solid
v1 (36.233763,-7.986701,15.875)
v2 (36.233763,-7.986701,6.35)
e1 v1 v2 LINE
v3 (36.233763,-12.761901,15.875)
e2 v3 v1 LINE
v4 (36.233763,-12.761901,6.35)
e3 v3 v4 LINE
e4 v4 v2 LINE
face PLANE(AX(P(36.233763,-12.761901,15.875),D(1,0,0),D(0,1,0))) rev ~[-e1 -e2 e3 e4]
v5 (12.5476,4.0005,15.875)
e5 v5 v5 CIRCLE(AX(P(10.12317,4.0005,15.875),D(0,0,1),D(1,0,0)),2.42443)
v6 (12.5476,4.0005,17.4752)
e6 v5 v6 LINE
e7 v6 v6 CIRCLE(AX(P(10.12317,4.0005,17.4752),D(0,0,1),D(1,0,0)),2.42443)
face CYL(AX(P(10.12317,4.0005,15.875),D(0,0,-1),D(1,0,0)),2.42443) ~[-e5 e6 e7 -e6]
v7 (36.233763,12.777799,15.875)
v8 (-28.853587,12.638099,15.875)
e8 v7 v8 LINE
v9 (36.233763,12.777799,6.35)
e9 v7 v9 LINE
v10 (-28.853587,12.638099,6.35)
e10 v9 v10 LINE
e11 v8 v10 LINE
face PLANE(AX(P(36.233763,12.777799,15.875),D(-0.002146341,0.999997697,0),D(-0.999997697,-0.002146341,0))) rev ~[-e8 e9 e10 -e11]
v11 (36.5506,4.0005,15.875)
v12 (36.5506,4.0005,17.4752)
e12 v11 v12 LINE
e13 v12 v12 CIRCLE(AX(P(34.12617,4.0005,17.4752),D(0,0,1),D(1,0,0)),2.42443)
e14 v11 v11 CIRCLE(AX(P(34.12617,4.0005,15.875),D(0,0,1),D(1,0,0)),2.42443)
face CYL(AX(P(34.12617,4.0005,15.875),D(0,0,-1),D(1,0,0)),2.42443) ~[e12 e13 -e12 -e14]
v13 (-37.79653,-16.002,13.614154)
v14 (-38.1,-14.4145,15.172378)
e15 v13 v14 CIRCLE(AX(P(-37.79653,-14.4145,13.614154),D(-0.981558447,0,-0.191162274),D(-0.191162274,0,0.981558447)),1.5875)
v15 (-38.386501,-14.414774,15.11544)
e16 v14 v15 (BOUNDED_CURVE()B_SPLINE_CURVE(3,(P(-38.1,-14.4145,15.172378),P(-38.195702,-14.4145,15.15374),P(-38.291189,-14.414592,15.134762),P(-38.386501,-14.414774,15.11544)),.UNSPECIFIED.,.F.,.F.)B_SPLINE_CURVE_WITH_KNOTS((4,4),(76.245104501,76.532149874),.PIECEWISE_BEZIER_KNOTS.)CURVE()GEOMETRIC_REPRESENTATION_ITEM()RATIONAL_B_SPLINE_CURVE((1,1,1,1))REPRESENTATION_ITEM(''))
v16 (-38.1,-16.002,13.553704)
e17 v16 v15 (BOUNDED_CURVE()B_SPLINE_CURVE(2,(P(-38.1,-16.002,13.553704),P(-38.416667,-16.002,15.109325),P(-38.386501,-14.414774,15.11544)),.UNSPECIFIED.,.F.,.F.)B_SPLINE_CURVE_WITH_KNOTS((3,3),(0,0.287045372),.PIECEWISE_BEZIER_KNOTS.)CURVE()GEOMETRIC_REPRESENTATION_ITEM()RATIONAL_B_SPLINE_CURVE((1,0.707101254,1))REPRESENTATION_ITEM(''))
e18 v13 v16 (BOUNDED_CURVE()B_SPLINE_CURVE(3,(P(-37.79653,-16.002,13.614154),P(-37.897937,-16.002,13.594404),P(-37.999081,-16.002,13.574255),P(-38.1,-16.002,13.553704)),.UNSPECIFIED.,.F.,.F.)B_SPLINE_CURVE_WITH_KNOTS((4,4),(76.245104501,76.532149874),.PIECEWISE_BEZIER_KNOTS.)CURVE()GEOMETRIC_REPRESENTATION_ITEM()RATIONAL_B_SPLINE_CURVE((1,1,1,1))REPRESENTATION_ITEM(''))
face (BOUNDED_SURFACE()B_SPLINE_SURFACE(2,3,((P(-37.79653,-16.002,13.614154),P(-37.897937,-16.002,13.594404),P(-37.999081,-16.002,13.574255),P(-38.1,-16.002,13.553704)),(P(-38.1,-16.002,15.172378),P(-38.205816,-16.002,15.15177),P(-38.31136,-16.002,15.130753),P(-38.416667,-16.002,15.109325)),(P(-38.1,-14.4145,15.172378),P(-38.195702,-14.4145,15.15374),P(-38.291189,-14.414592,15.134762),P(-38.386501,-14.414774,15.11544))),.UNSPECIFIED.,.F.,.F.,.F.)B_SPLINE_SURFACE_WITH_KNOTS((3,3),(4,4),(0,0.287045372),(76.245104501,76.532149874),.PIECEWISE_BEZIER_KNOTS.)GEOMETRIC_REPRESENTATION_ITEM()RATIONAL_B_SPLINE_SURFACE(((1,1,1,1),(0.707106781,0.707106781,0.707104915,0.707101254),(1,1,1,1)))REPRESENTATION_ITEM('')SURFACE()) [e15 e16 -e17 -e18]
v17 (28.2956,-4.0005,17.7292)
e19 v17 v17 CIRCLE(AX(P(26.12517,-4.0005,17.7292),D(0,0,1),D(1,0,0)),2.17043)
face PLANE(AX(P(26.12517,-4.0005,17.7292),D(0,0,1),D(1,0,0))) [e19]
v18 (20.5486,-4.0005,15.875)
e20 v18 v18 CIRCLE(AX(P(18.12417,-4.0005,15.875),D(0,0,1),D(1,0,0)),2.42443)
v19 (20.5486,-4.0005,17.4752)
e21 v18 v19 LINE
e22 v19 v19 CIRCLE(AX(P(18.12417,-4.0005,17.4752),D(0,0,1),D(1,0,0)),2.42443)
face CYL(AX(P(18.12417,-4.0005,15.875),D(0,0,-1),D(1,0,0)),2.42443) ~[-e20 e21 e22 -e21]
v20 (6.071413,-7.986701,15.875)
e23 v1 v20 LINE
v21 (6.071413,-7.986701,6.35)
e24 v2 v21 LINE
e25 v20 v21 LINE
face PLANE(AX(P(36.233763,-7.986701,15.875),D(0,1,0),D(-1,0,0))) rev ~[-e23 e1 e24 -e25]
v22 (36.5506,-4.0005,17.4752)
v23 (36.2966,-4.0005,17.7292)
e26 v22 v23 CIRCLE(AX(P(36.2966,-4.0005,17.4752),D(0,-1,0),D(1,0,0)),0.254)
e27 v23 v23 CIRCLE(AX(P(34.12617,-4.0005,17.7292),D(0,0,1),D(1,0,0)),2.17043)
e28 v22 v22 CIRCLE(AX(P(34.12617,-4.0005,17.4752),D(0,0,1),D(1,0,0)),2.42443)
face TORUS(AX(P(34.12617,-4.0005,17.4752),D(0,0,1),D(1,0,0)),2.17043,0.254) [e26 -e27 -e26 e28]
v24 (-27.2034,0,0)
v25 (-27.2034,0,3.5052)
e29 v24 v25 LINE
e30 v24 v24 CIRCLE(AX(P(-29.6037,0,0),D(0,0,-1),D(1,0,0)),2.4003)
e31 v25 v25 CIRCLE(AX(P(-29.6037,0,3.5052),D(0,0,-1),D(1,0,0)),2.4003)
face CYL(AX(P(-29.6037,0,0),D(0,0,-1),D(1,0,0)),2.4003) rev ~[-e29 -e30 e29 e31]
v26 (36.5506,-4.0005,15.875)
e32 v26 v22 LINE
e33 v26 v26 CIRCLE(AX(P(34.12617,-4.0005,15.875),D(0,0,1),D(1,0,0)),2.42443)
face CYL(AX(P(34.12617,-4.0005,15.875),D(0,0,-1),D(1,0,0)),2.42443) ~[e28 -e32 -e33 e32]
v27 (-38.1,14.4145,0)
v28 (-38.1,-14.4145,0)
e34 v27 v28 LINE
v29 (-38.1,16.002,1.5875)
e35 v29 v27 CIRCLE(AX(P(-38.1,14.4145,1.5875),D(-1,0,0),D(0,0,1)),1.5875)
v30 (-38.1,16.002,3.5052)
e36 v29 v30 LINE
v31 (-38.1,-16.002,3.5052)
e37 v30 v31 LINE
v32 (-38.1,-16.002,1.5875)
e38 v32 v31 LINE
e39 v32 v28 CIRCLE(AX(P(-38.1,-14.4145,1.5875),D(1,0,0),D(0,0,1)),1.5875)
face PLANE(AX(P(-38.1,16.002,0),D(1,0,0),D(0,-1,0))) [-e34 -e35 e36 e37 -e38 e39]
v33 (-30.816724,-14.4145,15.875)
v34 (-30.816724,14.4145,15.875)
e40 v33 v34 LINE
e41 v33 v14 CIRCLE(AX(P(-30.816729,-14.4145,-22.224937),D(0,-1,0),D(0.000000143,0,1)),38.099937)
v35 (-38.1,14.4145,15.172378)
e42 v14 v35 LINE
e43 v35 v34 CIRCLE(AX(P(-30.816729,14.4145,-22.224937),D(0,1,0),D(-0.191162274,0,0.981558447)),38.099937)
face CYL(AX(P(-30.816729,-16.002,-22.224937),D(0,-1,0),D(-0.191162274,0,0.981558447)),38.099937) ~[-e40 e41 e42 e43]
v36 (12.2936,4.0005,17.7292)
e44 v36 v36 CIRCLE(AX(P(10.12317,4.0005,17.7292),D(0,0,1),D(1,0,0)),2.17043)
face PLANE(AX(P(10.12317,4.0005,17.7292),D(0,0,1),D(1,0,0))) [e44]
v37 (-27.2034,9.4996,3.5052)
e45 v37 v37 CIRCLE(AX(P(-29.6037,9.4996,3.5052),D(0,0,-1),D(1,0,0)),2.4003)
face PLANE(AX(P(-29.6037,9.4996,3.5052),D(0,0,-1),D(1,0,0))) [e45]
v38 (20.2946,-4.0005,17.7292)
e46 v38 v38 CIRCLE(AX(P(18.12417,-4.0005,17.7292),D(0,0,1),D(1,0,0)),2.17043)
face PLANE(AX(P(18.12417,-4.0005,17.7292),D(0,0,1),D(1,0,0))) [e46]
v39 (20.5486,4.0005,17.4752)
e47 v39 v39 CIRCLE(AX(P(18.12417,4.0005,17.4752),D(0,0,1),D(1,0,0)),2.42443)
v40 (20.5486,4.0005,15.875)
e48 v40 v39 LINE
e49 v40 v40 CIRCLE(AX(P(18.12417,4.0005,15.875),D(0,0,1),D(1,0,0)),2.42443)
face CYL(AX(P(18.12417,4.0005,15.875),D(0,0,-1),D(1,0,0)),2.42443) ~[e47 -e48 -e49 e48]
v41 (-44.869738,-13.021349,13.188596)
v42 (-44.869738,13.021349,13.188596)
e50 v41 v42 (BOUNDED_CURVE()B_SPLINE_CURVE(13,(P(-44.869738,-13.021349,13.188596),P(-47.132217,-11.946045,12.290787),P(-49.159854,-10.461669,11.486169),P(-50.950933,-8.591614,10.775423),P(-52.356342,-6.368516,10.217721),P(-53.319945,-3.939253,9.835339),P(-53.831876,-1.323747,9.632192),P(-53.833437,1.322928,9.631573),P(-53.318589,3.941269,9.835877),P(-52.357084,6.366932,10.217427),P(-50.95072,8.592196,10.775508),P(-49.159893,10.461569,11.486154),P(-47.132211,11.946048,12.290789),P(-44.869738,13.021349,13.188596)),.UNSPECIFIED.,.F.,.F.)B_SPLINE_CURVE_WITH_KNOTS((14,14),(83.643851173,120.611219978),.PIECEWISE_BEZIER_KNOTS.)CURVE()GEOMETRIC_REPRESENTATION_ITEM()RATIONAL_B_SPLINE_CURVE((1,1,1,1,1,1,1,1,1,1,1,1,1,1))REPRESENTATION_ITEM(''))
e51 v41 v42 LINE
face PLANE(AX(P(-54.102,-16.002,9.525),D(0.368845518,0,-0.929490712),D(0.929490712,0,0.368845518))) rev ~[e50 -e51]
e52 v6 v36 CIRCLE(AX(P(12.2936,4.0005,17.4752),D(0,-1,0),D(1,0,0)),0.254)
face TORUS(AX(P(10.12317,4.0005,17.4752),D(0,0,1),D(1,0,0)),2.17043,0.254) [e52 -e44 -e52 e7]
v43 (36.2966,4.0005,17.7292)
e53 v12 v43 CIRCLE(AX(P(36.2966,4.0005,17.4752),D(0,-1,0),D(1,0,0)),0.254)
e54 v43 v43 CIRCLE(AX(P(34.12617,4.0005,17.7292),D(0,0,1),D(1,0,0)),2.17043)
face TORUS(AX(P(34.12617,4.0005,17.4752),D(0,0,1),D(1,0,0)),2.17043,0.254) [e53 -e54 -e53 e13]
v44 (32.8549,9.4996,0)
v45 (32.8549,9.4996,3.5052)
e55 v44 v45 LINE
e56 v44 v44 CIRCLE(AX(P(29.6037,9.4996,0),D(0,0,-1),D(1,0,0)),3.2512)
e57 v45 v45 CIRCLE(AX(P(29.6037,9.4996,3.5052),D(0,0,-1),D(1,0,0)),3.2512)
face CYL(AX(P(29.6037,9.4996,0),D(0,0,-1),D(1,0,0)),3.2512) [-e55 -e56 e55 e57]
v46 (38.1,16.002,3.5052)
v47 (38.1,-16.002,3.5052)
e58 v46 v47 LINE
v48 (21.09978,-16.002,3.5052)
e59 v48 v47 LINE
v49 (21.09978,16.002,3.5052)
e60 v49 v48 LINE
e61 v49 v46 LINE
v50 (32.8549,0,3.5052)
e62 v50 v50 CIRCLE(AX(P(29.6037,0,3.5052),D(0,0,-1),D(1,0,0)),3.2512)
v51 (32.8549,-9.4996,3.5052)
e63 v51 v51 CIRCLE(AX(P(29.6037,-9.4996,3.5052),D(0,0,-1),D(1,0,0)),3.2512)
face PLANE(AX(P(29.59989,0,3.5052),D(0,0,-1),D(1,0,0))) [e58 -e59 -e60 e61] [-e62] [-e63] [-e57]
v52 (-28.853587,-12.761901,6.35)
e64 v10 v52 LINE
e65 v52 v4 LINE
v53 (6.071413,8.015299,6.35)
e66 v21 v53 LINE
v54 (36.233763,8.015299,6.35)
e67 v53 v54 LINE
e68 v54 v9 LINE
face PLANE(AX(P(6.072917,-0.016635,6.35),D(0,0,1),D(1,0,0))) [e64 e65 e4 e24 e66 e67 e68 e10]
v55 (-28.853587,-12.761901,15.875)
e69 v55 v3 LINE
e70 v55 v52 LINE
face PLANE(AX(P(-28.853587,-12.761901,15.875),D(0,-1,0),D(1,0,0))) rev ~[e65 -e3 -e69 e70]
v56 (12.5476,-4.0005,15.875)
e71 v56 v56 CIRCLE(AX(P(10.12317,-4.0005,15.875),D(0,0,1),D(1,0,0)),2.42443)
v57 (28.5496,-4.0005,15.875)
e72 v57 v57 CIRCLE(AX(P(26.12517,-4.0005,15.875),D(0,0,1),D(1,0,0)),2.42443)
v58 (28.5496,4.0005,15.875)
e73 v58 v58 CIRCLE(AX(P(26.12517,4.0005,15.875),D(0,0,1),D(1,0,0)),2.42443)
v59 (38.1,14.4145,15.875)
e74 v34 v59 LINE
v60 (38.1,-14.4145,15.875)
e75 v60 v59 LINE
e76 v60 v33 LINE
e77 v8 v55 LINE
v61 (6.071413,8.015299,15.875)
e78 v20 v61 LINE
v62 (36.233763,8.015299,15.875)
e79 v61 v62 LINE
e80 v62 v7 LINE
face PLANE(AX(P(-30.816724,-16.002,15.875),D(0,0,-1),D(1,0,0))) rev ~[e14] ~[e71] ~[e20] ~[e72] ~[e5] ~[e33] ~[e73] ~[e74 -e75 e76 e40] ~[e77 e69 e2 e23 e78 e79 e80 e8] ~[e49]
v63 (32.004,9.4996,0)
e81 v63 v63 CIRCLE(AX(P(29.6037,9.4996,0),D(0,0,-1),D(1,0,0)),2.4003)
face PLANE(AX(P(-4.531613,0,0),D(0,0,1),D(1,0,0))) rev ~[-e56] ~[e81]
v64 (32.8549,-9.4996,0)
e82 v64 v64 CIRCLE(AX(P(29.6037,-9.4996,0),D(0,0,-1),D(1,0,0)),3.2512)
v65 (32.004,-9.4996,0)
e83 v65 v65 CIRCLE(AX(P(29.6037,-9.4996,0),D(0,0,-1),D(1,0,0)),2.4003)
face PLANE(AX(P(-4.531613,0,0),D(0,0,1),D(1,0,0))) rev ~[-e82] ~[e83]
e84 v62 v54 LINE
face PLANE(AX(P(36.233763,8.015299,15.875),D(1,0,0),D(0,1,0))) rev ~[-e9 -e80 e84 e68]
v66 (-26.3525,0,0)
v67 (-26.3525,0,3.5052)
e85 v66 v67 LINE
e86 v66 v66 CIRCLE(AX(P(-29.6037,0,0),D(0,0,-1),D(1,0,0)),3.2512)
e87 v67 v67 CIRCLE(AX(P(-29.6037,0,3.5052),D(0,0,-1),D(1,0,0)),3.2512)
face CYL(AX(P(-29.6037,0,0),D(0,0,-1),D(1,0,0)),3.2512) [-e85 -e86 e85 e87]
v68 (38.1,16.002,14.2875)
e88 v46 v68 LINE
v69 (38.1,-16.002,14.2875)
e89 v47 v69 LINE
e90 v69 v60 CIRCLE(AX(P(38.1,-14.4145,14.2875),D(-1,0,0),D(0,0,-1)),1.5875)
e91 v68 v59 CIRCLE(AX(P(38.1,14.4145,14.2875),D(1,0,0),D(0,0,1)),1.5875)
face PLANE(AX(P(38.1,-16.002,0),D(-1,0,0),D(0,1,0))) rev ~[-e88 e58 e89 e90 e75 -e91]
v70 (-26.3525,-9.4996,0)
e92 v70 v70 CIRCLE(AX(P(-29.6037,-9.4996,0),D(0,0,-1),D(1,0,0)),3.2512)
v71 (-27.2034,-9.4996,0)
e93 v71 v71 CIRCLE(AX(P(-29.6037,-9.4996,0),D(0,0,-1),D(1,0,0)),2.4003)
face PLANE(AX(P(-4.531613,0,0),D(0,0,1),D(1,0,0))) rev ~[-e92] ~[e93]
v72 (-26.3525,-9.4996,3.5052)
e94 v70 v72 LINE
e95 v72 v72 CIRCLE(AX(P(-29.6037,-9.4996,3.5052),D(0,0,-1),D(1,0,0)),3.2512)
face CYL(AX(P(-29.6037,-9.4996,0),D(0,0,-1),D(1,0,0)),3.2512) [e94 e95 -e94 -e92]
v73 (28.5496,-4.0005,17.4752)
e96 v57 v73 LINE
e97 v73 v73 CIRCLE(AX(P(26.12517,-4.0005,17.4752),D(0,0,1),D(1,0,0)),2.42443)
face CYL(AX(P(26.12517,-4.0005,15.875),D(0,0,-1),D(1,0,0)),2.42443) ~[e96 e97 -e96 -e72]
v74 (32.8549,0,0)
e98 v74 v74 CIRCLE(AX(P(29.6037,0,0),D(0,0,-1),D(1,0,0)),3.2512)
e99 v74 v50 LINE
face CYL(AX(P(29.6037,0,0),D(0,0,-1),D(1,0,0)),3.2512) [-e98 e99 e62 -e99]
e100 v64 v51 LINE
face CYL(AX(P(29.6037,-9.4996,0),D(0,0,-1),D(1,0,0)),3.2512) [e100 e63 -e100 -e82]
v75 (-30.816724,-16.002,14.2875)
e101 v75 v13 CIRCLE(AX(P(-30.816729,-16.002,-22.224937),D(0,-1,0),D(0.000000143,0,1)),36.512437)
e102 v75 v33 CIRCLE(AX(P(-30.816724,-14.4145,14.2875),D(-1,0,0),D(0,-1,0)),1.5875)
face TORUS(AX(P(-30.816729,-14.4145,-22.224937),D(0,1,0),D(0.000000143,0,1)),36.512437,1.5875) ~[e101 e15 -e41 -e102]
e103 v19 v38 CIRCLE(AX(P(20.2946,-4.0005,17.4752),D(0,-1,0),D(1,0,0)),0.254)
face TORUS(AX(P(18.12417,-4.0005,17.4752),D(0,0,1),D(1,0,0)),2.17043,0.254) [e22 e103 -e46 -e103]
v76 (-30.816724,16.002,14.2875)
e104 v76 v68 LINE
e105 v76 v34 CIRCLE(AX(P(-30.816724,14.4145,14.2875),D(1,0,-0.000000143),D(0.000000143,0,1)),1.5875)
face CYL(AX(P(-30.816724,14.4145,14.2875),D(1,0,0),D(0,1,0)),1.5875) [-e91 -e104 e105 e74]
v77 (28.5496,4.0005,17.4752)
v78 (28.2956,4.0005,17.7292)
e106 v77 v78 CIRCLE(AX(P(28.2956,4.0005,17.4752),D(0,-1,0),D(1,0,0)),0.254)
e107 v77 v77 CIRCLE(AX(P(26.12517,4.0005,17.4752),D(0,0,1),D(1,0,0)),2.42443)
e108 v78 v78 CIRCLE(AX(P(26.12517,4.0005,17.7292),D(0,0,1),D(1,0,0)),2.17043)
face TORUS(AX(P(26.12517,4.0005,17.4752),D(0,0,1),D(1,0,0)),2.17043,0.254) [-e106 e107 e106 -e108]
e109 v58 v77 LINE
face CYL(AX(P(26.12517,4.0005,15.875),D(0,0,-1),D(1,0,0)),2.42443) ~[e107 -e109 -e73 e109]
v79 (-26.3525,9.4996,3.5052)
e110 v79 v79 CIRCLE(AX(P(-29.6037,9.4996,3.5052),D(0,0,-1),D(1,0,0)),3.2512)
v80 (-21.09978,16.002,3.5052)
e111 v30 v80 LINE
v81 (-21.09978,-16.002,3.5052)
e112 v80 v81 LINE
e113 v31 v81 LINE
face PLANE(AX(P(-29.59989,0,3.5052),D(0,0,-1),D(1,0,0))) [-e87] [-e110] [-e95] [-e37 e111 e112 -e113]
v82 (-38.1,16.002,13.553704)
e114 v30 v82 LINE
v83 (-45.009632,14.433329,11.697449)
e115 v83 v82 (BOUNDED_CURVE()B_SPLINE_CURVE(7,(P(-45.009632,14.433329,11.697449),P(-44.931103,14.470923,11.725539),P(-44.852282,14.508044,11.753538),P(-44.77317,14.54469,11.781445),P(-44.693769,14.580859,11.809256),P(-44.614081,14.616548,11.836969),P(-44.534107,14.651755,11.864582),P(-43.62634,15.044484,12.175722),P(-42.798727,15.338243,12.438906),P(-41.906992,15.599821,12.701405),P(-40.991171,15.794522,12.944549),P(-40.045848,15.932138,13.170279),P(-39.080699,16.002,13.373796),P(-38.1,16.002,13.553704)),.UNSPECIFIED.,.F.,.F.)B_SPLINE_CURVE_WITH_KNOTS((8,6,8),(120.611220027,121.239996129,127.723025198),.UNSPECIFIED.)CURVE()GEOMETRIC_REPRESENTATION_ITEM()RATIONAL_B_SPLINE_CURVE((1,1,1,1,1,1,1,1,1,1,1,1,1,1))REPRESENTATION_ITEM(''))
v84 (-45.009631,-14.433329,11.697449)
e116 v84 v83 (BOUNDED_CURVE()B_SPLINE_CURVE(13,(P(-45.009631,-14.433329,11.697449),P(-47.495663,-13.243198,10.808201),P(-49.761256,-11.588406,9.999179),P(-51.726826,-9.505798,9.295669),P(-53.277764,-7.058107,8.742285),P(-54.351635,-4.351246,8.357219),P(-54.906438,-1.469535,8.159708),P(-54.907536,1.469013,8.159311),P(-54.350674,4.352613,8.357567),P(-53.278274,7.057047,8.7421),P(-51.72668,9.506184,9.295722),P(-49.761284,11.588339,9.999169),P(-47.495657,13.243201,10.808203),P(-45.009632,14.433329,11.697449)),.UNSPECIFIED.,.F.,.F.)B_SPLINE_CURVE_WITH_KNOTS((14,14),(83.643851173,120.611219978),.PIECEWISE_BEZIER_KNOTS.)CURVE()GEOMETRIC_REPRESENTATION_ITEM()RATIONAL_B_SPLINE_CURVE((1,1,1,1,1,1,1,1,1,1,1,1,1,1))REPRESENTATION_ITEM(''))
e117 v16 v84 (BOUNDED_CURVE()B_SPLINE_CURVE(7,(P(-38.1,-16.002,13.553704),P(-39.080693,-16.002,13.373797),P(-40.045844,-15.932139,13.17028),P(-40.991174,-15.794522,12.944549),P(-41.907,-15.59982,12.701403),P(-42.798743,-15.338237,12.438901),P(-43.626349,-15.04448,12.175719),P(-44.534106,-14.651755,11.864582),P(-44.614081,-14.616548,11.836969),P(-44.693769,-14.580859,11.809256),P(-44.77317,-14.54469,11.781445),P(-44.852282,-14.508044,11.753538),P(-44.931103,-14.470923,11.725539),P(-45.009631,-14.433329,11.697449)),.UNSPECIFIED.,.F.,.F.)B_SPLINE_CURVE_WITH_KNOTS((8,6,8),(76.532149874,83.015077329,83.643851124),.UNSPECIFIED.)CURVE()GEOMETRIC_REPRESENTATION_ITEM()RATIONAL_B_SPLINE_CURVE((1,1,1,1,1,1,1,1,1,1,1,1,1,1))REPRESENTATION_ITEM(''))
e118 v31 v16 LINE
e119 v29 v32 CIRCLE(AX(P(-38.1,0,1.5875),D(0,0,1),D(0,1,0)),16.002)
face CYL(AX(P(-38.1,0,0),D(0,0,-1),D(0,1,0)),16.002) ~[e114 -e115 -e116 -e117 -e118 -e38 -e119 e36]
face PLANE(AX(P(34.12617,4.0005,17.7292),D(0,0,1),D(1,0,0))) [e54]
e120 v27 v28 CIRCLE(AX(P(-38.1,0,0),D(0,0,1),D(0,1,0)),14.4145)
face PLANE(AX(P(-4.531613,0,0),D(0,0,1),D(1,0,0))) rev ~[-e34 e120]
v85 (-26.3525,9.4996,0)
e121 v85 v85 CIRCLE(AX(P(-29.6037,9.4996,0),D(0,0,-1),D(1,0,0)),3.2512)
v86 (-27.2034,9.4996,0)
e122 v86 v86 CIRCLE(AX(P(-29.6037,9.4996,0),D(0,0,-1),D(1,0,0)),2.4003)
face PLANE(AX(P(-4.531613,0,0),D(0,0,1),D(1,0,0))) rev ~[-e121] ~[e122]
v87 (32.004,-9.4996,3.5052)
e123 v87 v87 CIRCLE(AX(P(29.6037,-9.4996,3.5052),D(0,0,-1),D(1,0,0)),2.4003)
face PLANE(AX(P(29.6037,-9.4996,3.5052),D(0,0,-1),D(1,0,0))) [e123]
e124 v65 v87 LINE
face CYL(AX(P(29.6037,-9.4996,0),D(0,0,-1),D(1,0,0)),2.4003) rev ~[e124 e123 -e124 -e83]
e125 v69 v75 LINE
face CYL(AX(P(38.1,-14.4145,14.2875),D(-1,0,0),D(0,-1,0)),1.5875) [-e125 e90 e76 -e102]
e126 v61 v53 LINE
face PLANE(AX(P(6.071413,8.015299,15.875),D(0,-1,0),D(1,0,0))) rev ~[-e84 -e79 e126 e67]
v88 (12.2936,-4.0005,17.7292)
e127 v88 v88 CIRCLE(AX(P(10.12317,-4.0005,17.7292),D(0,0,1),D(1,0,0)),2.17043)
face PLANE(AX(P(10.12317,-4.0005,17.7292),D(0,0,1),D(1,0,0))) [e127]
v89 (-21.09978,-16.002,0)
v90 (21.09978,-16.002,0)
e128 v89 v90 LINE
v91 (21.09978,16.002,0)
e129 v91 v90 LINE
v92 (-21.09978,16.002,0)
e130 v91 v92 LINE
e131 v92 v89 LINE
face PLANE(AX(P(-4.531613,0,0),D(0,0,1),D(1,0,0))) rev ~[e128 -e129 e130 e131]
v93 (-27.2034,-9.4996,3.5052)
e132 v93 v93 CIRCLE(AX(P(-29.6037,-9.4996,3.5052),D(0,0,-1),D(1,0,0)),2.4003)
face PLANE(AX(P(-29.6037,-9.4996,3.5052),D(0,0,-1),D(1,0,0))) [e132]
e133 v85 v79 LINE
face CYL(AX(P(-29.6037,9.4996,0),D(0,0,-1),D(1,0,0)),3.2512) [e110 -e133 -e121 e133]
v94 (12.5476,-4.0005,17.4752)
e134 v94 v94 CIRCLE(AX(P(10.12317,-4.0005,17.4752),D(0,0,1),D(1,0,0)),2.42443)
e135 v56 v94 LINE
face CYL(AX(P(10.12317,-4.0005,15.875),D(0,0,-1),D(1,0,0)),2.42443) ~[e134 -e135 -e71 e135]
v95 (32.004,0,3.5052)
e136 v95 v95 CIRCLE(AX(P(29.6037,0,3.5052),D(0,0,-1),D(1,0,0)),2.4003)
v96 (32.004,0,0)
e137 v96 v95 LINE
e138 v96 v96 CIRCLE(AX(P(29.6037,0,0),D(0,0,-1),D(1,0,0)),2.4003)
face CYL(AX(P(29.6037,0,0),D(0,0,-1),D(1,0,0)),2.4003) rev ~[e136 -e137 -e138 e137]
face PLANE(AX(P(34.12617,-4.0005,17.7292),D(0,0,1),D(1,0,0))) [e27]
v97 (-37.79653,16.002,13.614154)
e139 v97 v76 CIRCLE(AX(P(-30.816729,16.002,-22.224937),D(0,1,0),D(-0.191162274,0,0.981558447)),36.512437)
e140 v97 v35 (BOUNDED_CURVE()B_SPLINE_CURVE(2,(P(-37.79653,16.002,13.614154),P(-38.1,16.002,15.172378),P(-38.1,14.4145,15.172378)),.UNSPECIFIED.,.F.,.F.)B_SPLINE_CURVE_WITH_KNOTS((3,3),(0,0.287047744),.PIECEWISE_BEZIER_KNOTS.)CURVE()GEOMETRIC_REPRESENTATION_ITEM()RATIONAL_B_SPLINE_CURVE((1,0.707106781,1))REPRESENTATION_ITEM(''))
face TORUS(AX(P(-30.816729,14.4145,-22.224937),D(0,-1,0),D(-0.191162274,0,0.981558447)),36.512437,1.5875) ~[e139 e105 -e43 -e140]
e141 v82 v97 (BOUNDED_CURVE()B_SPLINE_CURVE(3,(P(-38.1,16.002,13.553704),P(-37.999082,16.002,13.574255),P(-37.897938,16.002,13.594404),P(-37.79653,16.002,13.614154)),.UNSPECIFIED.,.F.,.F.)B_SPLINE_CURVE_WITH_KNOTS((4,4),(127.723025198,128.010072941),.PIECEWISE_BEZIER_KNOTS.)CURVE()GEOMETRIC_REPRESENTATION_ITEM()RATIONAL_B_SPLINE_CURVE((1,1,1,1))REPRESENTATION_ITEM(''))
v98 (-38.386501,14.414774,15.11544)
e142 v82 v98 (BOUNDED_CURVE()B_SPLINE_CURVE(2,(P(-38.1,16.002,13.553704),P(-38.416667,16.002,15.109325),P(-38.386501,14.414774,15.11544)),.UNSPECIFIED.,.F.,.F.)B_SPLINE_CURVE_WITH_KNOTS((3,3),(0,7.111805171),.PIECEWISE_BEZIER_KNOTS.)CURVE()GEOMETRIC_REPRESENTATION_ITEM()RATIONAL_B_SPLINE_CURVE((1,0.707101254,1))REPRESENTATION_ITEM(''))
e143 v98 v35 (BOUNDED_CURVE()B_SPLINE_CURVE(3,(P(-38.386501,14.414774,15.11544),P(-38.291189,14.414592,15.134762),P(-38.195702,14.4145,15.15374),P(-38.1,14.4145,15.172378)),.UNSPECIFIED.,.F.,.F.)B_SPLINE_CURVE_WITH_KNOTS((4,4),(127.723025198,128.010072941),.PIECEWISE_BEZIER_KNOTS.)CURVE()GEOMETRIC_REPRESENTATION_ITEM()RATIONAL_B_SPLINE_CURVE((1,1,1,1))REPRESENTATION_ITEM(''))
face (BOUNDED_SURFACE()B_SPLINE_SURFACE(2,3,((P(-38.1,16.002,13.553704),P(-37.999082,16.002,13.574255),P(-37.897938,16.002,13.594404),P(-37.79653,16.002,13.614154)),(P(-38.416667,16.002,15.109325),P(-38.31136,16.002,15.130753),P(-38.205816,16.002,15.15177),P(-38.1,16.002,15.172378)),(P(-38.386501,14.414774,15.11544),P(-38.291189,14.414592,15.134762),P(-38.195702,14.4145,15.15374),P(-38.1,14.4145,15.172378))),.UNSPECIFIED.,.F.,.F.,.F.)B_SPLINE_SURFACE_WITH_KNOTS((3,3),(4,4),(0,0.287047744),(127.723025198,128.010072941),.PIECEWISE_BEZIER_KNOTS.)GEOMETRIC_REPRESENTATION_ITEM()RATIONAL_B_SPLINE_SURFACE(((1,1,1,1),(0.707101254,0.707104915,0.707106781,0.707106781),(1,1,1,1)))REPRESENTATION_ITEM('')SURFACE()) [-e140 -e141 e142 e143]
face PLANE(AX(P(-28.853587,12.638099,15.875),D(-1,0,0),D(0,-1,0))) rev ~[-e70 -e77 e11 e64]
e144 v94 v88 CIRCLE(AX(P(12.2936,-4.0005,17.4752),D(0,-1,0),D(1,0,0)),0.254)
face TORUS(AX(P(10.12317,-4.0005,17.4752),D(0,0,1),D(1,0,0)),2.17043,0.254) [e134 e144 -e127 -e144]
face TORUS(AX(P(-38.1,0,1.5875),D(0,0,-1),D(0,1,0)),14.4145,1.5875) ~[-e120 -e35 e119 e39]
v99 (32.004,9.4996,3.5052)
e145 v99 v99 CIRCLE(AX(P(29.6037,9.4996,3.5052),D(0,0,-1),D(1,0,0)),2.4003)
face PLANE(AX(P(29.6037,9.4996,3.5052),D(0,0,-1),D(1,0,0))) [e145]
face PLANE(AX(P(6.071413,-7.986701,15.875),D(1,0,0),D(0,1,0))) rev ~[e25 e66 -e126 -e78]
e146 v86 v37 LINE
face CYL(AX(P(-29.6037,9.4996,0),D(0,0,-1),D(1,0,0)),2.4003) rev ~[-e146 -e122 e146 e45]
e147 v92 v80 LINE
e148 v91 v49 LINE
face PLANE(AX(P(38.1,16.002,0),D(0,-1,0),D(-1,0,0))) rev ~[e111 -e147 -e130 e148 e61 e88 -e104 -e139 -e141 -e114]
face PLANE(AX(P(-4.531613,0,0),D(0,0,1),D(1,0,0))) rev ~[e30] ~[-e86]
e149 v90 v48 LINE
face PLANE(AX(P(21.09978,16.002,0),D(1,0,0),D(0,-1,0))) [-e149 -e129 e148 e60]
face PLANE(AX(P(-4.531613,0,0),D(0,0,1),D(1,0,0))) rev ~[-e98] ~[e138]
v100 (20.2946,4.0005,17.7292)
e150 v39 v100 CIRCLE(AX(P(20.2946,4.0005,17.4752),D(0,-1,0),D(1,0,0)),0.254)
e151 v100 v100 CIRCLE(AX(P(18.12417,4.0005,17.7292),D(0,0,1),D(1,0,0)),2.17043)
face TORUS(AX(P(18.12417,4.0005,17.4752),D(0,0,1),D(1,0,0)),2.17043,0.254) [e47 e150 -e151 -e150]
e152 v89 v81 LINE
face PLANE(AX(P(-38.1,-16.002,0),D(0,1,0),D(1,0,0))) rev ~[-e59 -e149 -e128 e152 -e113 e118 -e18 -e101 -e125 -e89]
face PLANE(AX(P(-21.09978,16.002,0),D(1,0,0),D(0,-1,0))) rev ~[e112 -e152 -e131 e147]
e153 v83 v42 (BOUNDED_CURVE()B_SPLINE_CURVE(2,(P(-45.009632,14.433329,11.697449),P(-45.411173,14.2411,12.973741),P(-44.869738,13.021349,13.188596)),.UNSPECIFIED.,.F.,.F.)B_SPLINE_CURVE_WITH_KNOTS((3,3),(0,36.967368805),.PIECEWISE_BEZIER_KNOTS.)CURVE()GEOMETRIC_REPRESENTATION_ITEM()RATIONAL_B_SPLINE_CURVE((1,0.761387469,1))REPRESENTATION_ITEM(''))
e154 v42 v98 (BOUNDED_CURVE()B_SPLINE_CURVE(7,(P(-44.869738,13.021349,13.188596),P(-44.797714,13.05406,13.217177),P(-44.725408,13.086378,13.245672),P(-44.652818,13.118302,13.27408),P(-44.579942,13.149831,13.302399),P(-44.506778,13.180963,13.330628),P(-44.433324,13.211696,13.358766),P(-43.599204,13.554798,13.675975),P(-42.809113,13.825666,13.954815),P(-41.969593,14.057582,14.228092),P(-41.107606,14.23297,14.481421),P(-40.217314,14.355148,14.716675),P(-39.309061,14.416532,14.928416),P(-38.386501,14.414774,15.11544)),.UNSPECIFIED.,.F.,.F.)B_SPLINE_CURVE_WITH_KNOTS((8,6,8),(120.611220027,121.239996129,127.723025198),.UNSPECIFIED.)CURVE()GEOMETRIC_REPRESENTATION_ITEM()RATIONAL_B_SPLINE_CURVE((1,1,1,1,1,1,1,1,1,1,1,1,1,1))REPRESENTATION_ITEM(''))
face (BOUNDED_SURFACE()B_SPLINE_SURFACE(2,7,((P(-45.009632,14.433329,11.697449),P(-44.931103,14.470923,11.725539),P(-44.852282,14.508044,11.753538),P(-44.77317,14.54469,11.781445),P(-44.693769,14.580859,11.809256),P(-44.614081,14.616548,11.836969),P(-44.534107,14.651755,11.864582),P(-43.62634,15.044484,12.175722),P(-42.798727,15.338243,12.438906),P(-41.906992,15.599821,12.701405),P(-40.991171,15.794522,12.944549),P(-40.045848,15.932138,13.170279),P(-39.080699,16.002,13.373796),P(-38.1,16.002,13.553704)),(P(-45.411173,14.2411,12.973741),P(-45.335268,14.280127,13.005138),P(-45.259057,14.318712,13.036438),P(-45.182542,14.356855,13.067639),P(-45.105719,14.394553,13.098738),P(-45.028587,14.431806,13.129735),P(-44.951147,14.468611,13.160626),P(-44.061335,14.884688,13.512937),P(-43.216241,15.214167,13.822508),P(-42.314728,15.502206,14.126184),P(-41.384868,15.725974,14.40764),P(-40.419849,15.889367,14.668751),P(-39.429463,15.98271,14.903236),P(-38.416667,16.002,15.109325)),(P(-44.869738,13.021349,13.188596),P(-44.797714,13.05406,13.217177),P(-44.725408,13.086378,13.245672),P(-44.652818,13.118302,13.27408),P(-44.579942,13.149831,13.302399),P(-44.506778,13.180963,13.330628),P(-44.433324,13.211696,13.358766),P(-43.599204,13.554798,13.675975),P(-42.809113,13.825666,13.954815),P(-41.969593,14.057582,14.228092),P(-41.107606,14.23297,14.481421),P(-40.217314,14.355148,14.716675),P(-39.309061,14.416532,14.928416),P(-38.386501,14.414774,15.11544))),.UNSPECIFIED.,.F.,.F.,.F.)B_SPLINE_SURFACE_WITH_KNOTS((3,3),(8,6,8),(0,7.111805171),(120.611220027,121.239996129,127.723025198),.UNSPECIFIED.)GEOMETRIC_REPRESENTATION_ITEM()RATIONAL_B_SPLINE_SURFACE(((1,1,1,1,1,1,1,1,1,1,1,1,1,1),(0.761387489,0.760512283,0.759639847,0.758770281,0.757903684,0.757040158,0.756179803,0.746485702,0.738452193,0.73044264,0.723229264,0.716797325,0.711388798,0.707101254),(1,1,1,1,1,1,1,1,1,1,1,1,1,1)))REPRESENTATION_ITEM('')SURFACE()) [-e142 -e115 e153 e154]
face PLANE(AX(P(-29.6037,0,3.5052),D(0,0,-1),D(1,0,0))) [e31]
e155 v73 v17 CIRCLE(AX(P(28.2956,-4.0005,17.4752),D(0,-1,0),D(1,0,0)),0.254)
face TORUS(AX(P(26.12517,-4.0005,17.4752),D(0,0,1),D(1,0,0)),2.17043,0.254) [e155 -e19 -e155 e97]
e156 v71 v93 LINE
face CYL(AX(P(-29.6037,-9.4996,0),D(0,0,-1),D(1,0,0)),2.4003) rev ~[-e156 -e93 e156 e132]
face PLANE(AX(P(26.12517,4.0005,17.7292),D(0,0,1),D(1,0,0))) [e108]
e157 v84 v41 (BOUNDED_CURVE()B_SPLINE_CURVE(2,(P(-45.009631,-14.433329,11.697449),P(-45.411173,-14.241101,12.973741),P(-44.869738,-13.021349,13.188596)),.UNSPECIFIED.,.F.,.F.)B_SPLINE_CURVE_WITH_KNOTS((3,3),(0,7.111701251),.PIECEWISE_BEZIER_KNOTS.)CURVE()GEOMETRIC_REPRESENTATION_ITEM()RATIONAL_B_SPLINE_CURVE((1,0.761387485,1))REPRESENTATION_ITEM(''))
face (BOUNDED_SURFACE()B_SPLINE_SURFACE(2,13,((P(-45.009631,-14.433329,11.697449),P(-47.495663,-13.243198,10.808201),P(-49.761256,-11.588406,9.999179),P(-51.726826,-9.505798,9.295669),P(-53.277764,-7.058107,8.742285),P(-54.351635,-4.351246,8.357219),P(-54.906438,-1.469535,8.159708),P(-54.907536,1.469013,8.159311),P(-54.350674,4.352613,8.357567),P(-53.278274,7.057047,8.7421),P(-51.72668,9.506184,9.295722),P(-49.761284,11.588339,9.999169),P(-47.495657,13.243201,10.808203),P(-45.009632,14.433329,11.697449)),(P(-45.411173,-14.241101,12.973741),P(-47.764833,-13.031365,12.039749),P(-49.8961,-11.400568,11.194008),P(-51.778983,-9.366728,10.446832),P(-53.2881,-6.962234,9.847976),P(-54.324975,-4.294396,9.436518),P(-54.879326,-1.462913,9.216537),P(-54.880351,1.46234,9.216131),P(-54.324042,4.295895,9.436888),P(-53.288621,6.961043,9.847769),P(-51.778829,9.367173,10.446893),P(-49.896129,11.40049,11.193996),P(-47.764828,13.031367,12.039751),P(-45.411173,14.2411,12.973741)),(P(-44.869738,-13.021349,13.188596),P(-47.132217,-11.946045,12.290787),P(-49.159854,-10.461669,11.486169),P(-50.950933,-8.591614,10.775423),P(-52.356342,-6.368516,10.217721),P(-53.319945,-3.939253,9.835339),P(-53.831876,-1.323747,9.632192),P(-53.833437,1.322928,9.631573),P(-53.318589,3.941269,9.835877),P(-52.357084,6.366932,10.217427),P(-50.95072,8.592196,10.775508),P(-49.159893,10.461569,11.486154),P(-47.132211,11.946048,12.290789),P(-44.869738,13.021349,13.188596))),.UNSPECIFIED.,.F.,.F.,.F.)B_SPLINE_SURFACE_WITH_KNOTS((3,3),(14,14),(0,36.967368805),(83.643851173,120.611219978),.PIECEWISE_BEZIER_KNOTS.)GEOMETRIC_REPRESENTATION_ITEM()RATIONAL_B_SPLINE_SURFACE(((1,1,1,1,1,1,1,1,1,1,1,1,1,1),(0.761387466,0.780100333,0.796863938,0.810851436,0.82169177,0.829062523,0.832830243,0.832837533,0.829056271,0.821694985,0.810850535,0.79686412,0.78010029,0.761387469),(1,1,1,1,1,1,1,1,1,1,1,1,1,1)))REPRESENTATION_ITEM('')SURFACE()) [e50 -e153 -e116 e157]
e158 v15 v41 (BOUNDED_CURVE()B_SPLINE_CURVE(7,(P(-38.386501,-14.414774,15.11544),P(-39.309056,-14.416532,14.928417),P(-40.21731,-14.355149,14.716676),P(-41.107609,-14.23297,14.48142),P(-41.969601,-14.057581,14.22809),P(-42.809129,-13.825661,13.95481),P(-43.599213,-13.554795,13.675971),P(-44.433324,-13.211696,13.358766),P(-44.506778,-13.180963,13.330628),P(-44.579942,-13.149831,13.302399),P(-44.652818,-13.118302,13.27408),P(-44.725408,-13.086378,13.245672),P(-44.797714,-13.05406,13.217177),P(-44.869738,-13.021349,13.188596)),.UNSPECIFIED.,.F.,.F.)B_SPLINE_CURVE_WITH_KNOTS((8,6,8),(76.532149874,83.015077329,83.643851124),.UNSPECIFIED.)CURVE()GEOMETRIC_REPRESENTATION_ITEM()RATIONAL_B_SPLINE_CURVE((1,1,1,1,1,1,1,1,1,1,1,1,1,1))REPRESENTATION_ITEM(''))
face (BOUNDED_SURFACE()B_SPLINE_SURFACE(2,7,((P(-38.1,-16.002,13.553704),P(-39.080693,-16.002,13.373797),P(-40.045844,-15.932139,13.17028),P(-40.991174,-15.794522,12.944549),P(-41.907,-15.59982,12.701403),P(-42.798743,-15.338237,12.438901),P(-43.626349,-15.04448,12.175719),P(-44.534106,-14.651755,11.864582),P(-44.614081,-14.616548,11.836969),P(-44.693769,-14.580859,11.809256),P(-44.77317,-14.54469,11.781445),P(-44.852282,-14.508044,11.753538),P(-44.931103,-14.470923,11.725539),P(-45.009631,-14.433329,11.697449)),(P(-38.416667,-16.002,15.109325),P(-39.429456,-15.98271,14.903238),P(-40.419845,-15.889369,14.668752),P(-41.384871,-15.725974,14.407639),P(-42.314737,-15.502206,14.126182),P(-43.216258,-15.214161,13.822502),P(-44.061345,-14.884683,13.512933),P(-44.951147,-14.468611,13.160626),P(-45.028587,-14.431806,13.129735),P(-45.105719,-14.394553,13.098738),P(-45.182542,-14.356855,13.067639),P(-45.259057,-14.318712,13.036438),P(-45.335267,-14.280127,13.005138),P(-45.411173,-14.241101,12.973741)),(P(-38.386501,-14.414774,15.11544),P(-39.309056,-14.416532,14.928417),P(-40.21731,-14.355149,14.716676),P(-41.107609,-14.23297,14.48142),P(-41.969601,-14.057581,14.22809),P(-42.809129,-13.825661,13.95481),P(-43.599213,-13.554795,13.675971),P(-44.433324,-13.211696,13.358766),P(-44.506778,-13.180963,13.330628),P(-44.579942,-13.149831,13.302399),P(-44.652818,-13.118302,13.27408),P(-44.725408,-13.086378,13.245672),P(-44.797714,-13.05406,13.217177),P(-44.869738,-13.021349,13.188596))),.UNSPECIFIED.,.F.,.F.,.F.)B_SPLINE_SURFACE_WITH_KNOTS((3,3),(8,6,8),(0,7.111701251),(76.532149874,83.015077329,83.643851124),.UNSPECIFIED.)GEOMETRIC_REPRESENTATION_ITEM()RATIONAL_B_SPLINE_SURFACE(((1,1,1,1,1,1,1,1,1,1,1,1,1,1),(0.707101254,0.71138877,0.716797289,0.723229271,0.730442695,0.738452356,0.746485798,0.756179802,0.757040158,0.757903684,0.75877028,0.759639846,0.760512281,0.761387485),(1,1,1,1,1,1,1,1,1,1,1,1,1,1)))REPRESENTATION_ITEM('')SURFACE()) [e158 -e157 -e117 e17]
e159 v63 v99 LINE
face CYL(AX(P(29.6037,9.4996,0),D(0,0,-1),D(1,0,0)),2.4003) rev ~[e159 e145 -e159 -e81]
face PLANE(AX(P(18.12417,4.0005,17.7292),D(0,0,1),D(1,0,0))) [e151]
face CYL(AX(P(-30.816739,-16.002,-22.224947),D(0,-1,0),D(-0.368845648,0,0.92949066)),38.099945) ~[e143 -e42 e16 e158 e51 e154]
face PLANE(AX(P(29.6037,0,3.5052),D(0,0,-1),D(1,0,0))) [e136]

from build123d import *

# Parameters (mm, degrees)
F1_DEPTH  = 19.05
F2_W      = 17.00022
F2_H      = 32.004
F2_R      = 3.2512
F2_R_2    = 2.4003
F3_DEPTH  = 3.5052
F5_DEPTH  = 32.005
F6_R      = 1.5875
F7_R      = 2.42443
F8_DEPTH  = 1.8542
F9_R      = 0.254
F11_DEPTH = 9.525


with BuildPart() as f1:
    # F0 (on Top) → F1 (new body)
    with BuildSketch(Plane.XY):
        with BuildLine():
            Line((38.1, 16.002), (-38.1, 16.002))
            ThreePointArc((-38.1, 16.002), (-54.102, 0), (-38.1, -16.002))
            Line((-38.1, -16.002), (38.1, -16.002))
            Line((38.1, -16.002), (38.1, 16.002))
        make_face()
    extrude(amount=F1_DEPTH)

    # F2 (on face) → F3 (cut)
    with BuildSketch(Plane(origin=(0, 0, 0), x_dir=(1, 0, 0), z_dir=(0, 0, -1))):
        with Locations((-29.59989, 0)):
            Rectangle(F2_W, F2_H)
        with Locations((-29.6037, -9.4996)):
            Circle(F2_R, mode=Mode.SUBTRACT)
        with Locations((-29.6037, 0)):
            Circle(F2_R, mode=Mode.SUBTRACT)
        with Locations((-29.6037, 9.4996)):
            Circle(F2_R, mode=Mode.SUBTRACT)
        with Locations((29.59989, 0)):
            Rectangle(F2_W, F2_H)
        with Locations((29.6037, -9.4996)):
            Circle(F2_R, mode=Mode.SUBTRACT)
        with Locations((29.6037, 0)):
            Circle(F2_R, mode=Mode.SUBTRACT)
        with Locations((29.6037, 9.4996)):
            Circle(F2_R, mode=Mode.SUBTRACT)
        with Locations((-29.6037, 9.4996)):
            Circle(F2_R_2)
        with Locations((-29.6037, 0)):
            Circle(F2_R_2)
        with Locations((-29.6037, -9.4996)):
            Circle(F2_R_2)
        with Locations((29.6037, 9.4996)):
            Circle(F2_R_2)
        with Locations((29.6037, 0)):
            Circle(F2_R_2)
        with Locations((29.6037, -9.4996)):
            Circle(F2_R_2)
    extrude(amount=-F3_DEPTH, mode=Mode.SUBTRACT)

    # F4 (on face) → F5 (cut, through all)
    with BuildSketch(Plane.XZ.offset(16.002)):
        with BuildLine():
            Line((-38.1, 19.05), (-38.1, 15.172378))
            ThreePointArc((-38.1, 15.172378), (-34.475268, 15.698938), (-30.816724, 15.875))
            Line((-30.816724, 15.875), (38.1, 15.875))
            Line((38.1, 15.875), (38.1, 19.05))
            Line((38.1, 19.05), (-38.1, 19.05))
        make_face()
        with BuildLine():
            Line((-54.102, 19.05), (-54.102, 9.525))
            Line((-54.102, 9.525), (-44.869738, 13.188596))
            ThreePointArc((-44.869738, 13.188596), (-41.530881, 14.337506), (-38.1, 15.172378))
            Line((-38.1, 15.172378), (-38.1, 19.05))
            Line((-38.1, 19.05), (-54.102, 19.05))
        make_face()
    extrude(amount=-F5_DEPTH, mode=Mode.SUBTRACT)

    # F6
    f6_edges = [f1.edges().sort_by_distance(p)[0] for p in [
        (-51.513173, -8.726443, 10.552312),
        (-51.513173, 8.726443, 10.552312),
        (-54.102, 0, 0),
    ]]
    fillet(f6_edges, radius=F6_R)

    # F7 (on face) → F8 (join)
    with BuildSketch(Plane.XY.offset(15.875)):
        with Locations((10.12317, 4.0005)):
            Circle(F7_R)
        with Locations((18.12417, 4.0005)):
            Circle(F7_R)
        with Locations((26.12517, 4.0005)):
            Circle(F7_R)
        with Locations((34.12617, 4.0005)):
            Circle(F7_R)
        with Locations((34.12617, -4.0005)):
            Circle(F7_R)
        with Locations((26.12517, -4.0005)):
            Circle(F7_R)
        with Locations((18.12417, -4.0005)):
            Circle(F7_R)
        with Locations((10.12317, -4.0005)):
            Circle(F7_R)
    extrude(amount=F8_DEPTH)

    # F9
    f9_edges = [f1.edges().sort_by_distance(p)[0] for p in [
        (7.69874, -4.0005, 17.7292),
        (7.69874, 4.0005, 17.7292),
        (15.69974, 4.0005, 17.7292),
        (15.69974, -4.0005, 17.7292),
        (23.70074, 4.0005, 17.7292),
        (23.70074, -4.0005, 17.7292),
        (31.70174, -4.0005, 17.7292),
        (31.70174, 4.0005, 17.7292),
    ]]
    fillet(f9_edges, radius=F9_R)

    # F10 (on face) → F11 (cut)
    with BuildSketch(Plane.XY.offset(15.875)):
        Polygon((36.233763, 8.015299), (36.233763, 12.777799), (-28.853587, 12.638099), (-28.853587, -12.761901), (36.233763, -12.761901), (36.233763, -7.986701), (6.071413, -7.986701), (6.071413, 8.015299), align=None)
    extrude(amount=-F11_DEPTH, mode=Mode.SUBTRACT)


solid = f1.part
